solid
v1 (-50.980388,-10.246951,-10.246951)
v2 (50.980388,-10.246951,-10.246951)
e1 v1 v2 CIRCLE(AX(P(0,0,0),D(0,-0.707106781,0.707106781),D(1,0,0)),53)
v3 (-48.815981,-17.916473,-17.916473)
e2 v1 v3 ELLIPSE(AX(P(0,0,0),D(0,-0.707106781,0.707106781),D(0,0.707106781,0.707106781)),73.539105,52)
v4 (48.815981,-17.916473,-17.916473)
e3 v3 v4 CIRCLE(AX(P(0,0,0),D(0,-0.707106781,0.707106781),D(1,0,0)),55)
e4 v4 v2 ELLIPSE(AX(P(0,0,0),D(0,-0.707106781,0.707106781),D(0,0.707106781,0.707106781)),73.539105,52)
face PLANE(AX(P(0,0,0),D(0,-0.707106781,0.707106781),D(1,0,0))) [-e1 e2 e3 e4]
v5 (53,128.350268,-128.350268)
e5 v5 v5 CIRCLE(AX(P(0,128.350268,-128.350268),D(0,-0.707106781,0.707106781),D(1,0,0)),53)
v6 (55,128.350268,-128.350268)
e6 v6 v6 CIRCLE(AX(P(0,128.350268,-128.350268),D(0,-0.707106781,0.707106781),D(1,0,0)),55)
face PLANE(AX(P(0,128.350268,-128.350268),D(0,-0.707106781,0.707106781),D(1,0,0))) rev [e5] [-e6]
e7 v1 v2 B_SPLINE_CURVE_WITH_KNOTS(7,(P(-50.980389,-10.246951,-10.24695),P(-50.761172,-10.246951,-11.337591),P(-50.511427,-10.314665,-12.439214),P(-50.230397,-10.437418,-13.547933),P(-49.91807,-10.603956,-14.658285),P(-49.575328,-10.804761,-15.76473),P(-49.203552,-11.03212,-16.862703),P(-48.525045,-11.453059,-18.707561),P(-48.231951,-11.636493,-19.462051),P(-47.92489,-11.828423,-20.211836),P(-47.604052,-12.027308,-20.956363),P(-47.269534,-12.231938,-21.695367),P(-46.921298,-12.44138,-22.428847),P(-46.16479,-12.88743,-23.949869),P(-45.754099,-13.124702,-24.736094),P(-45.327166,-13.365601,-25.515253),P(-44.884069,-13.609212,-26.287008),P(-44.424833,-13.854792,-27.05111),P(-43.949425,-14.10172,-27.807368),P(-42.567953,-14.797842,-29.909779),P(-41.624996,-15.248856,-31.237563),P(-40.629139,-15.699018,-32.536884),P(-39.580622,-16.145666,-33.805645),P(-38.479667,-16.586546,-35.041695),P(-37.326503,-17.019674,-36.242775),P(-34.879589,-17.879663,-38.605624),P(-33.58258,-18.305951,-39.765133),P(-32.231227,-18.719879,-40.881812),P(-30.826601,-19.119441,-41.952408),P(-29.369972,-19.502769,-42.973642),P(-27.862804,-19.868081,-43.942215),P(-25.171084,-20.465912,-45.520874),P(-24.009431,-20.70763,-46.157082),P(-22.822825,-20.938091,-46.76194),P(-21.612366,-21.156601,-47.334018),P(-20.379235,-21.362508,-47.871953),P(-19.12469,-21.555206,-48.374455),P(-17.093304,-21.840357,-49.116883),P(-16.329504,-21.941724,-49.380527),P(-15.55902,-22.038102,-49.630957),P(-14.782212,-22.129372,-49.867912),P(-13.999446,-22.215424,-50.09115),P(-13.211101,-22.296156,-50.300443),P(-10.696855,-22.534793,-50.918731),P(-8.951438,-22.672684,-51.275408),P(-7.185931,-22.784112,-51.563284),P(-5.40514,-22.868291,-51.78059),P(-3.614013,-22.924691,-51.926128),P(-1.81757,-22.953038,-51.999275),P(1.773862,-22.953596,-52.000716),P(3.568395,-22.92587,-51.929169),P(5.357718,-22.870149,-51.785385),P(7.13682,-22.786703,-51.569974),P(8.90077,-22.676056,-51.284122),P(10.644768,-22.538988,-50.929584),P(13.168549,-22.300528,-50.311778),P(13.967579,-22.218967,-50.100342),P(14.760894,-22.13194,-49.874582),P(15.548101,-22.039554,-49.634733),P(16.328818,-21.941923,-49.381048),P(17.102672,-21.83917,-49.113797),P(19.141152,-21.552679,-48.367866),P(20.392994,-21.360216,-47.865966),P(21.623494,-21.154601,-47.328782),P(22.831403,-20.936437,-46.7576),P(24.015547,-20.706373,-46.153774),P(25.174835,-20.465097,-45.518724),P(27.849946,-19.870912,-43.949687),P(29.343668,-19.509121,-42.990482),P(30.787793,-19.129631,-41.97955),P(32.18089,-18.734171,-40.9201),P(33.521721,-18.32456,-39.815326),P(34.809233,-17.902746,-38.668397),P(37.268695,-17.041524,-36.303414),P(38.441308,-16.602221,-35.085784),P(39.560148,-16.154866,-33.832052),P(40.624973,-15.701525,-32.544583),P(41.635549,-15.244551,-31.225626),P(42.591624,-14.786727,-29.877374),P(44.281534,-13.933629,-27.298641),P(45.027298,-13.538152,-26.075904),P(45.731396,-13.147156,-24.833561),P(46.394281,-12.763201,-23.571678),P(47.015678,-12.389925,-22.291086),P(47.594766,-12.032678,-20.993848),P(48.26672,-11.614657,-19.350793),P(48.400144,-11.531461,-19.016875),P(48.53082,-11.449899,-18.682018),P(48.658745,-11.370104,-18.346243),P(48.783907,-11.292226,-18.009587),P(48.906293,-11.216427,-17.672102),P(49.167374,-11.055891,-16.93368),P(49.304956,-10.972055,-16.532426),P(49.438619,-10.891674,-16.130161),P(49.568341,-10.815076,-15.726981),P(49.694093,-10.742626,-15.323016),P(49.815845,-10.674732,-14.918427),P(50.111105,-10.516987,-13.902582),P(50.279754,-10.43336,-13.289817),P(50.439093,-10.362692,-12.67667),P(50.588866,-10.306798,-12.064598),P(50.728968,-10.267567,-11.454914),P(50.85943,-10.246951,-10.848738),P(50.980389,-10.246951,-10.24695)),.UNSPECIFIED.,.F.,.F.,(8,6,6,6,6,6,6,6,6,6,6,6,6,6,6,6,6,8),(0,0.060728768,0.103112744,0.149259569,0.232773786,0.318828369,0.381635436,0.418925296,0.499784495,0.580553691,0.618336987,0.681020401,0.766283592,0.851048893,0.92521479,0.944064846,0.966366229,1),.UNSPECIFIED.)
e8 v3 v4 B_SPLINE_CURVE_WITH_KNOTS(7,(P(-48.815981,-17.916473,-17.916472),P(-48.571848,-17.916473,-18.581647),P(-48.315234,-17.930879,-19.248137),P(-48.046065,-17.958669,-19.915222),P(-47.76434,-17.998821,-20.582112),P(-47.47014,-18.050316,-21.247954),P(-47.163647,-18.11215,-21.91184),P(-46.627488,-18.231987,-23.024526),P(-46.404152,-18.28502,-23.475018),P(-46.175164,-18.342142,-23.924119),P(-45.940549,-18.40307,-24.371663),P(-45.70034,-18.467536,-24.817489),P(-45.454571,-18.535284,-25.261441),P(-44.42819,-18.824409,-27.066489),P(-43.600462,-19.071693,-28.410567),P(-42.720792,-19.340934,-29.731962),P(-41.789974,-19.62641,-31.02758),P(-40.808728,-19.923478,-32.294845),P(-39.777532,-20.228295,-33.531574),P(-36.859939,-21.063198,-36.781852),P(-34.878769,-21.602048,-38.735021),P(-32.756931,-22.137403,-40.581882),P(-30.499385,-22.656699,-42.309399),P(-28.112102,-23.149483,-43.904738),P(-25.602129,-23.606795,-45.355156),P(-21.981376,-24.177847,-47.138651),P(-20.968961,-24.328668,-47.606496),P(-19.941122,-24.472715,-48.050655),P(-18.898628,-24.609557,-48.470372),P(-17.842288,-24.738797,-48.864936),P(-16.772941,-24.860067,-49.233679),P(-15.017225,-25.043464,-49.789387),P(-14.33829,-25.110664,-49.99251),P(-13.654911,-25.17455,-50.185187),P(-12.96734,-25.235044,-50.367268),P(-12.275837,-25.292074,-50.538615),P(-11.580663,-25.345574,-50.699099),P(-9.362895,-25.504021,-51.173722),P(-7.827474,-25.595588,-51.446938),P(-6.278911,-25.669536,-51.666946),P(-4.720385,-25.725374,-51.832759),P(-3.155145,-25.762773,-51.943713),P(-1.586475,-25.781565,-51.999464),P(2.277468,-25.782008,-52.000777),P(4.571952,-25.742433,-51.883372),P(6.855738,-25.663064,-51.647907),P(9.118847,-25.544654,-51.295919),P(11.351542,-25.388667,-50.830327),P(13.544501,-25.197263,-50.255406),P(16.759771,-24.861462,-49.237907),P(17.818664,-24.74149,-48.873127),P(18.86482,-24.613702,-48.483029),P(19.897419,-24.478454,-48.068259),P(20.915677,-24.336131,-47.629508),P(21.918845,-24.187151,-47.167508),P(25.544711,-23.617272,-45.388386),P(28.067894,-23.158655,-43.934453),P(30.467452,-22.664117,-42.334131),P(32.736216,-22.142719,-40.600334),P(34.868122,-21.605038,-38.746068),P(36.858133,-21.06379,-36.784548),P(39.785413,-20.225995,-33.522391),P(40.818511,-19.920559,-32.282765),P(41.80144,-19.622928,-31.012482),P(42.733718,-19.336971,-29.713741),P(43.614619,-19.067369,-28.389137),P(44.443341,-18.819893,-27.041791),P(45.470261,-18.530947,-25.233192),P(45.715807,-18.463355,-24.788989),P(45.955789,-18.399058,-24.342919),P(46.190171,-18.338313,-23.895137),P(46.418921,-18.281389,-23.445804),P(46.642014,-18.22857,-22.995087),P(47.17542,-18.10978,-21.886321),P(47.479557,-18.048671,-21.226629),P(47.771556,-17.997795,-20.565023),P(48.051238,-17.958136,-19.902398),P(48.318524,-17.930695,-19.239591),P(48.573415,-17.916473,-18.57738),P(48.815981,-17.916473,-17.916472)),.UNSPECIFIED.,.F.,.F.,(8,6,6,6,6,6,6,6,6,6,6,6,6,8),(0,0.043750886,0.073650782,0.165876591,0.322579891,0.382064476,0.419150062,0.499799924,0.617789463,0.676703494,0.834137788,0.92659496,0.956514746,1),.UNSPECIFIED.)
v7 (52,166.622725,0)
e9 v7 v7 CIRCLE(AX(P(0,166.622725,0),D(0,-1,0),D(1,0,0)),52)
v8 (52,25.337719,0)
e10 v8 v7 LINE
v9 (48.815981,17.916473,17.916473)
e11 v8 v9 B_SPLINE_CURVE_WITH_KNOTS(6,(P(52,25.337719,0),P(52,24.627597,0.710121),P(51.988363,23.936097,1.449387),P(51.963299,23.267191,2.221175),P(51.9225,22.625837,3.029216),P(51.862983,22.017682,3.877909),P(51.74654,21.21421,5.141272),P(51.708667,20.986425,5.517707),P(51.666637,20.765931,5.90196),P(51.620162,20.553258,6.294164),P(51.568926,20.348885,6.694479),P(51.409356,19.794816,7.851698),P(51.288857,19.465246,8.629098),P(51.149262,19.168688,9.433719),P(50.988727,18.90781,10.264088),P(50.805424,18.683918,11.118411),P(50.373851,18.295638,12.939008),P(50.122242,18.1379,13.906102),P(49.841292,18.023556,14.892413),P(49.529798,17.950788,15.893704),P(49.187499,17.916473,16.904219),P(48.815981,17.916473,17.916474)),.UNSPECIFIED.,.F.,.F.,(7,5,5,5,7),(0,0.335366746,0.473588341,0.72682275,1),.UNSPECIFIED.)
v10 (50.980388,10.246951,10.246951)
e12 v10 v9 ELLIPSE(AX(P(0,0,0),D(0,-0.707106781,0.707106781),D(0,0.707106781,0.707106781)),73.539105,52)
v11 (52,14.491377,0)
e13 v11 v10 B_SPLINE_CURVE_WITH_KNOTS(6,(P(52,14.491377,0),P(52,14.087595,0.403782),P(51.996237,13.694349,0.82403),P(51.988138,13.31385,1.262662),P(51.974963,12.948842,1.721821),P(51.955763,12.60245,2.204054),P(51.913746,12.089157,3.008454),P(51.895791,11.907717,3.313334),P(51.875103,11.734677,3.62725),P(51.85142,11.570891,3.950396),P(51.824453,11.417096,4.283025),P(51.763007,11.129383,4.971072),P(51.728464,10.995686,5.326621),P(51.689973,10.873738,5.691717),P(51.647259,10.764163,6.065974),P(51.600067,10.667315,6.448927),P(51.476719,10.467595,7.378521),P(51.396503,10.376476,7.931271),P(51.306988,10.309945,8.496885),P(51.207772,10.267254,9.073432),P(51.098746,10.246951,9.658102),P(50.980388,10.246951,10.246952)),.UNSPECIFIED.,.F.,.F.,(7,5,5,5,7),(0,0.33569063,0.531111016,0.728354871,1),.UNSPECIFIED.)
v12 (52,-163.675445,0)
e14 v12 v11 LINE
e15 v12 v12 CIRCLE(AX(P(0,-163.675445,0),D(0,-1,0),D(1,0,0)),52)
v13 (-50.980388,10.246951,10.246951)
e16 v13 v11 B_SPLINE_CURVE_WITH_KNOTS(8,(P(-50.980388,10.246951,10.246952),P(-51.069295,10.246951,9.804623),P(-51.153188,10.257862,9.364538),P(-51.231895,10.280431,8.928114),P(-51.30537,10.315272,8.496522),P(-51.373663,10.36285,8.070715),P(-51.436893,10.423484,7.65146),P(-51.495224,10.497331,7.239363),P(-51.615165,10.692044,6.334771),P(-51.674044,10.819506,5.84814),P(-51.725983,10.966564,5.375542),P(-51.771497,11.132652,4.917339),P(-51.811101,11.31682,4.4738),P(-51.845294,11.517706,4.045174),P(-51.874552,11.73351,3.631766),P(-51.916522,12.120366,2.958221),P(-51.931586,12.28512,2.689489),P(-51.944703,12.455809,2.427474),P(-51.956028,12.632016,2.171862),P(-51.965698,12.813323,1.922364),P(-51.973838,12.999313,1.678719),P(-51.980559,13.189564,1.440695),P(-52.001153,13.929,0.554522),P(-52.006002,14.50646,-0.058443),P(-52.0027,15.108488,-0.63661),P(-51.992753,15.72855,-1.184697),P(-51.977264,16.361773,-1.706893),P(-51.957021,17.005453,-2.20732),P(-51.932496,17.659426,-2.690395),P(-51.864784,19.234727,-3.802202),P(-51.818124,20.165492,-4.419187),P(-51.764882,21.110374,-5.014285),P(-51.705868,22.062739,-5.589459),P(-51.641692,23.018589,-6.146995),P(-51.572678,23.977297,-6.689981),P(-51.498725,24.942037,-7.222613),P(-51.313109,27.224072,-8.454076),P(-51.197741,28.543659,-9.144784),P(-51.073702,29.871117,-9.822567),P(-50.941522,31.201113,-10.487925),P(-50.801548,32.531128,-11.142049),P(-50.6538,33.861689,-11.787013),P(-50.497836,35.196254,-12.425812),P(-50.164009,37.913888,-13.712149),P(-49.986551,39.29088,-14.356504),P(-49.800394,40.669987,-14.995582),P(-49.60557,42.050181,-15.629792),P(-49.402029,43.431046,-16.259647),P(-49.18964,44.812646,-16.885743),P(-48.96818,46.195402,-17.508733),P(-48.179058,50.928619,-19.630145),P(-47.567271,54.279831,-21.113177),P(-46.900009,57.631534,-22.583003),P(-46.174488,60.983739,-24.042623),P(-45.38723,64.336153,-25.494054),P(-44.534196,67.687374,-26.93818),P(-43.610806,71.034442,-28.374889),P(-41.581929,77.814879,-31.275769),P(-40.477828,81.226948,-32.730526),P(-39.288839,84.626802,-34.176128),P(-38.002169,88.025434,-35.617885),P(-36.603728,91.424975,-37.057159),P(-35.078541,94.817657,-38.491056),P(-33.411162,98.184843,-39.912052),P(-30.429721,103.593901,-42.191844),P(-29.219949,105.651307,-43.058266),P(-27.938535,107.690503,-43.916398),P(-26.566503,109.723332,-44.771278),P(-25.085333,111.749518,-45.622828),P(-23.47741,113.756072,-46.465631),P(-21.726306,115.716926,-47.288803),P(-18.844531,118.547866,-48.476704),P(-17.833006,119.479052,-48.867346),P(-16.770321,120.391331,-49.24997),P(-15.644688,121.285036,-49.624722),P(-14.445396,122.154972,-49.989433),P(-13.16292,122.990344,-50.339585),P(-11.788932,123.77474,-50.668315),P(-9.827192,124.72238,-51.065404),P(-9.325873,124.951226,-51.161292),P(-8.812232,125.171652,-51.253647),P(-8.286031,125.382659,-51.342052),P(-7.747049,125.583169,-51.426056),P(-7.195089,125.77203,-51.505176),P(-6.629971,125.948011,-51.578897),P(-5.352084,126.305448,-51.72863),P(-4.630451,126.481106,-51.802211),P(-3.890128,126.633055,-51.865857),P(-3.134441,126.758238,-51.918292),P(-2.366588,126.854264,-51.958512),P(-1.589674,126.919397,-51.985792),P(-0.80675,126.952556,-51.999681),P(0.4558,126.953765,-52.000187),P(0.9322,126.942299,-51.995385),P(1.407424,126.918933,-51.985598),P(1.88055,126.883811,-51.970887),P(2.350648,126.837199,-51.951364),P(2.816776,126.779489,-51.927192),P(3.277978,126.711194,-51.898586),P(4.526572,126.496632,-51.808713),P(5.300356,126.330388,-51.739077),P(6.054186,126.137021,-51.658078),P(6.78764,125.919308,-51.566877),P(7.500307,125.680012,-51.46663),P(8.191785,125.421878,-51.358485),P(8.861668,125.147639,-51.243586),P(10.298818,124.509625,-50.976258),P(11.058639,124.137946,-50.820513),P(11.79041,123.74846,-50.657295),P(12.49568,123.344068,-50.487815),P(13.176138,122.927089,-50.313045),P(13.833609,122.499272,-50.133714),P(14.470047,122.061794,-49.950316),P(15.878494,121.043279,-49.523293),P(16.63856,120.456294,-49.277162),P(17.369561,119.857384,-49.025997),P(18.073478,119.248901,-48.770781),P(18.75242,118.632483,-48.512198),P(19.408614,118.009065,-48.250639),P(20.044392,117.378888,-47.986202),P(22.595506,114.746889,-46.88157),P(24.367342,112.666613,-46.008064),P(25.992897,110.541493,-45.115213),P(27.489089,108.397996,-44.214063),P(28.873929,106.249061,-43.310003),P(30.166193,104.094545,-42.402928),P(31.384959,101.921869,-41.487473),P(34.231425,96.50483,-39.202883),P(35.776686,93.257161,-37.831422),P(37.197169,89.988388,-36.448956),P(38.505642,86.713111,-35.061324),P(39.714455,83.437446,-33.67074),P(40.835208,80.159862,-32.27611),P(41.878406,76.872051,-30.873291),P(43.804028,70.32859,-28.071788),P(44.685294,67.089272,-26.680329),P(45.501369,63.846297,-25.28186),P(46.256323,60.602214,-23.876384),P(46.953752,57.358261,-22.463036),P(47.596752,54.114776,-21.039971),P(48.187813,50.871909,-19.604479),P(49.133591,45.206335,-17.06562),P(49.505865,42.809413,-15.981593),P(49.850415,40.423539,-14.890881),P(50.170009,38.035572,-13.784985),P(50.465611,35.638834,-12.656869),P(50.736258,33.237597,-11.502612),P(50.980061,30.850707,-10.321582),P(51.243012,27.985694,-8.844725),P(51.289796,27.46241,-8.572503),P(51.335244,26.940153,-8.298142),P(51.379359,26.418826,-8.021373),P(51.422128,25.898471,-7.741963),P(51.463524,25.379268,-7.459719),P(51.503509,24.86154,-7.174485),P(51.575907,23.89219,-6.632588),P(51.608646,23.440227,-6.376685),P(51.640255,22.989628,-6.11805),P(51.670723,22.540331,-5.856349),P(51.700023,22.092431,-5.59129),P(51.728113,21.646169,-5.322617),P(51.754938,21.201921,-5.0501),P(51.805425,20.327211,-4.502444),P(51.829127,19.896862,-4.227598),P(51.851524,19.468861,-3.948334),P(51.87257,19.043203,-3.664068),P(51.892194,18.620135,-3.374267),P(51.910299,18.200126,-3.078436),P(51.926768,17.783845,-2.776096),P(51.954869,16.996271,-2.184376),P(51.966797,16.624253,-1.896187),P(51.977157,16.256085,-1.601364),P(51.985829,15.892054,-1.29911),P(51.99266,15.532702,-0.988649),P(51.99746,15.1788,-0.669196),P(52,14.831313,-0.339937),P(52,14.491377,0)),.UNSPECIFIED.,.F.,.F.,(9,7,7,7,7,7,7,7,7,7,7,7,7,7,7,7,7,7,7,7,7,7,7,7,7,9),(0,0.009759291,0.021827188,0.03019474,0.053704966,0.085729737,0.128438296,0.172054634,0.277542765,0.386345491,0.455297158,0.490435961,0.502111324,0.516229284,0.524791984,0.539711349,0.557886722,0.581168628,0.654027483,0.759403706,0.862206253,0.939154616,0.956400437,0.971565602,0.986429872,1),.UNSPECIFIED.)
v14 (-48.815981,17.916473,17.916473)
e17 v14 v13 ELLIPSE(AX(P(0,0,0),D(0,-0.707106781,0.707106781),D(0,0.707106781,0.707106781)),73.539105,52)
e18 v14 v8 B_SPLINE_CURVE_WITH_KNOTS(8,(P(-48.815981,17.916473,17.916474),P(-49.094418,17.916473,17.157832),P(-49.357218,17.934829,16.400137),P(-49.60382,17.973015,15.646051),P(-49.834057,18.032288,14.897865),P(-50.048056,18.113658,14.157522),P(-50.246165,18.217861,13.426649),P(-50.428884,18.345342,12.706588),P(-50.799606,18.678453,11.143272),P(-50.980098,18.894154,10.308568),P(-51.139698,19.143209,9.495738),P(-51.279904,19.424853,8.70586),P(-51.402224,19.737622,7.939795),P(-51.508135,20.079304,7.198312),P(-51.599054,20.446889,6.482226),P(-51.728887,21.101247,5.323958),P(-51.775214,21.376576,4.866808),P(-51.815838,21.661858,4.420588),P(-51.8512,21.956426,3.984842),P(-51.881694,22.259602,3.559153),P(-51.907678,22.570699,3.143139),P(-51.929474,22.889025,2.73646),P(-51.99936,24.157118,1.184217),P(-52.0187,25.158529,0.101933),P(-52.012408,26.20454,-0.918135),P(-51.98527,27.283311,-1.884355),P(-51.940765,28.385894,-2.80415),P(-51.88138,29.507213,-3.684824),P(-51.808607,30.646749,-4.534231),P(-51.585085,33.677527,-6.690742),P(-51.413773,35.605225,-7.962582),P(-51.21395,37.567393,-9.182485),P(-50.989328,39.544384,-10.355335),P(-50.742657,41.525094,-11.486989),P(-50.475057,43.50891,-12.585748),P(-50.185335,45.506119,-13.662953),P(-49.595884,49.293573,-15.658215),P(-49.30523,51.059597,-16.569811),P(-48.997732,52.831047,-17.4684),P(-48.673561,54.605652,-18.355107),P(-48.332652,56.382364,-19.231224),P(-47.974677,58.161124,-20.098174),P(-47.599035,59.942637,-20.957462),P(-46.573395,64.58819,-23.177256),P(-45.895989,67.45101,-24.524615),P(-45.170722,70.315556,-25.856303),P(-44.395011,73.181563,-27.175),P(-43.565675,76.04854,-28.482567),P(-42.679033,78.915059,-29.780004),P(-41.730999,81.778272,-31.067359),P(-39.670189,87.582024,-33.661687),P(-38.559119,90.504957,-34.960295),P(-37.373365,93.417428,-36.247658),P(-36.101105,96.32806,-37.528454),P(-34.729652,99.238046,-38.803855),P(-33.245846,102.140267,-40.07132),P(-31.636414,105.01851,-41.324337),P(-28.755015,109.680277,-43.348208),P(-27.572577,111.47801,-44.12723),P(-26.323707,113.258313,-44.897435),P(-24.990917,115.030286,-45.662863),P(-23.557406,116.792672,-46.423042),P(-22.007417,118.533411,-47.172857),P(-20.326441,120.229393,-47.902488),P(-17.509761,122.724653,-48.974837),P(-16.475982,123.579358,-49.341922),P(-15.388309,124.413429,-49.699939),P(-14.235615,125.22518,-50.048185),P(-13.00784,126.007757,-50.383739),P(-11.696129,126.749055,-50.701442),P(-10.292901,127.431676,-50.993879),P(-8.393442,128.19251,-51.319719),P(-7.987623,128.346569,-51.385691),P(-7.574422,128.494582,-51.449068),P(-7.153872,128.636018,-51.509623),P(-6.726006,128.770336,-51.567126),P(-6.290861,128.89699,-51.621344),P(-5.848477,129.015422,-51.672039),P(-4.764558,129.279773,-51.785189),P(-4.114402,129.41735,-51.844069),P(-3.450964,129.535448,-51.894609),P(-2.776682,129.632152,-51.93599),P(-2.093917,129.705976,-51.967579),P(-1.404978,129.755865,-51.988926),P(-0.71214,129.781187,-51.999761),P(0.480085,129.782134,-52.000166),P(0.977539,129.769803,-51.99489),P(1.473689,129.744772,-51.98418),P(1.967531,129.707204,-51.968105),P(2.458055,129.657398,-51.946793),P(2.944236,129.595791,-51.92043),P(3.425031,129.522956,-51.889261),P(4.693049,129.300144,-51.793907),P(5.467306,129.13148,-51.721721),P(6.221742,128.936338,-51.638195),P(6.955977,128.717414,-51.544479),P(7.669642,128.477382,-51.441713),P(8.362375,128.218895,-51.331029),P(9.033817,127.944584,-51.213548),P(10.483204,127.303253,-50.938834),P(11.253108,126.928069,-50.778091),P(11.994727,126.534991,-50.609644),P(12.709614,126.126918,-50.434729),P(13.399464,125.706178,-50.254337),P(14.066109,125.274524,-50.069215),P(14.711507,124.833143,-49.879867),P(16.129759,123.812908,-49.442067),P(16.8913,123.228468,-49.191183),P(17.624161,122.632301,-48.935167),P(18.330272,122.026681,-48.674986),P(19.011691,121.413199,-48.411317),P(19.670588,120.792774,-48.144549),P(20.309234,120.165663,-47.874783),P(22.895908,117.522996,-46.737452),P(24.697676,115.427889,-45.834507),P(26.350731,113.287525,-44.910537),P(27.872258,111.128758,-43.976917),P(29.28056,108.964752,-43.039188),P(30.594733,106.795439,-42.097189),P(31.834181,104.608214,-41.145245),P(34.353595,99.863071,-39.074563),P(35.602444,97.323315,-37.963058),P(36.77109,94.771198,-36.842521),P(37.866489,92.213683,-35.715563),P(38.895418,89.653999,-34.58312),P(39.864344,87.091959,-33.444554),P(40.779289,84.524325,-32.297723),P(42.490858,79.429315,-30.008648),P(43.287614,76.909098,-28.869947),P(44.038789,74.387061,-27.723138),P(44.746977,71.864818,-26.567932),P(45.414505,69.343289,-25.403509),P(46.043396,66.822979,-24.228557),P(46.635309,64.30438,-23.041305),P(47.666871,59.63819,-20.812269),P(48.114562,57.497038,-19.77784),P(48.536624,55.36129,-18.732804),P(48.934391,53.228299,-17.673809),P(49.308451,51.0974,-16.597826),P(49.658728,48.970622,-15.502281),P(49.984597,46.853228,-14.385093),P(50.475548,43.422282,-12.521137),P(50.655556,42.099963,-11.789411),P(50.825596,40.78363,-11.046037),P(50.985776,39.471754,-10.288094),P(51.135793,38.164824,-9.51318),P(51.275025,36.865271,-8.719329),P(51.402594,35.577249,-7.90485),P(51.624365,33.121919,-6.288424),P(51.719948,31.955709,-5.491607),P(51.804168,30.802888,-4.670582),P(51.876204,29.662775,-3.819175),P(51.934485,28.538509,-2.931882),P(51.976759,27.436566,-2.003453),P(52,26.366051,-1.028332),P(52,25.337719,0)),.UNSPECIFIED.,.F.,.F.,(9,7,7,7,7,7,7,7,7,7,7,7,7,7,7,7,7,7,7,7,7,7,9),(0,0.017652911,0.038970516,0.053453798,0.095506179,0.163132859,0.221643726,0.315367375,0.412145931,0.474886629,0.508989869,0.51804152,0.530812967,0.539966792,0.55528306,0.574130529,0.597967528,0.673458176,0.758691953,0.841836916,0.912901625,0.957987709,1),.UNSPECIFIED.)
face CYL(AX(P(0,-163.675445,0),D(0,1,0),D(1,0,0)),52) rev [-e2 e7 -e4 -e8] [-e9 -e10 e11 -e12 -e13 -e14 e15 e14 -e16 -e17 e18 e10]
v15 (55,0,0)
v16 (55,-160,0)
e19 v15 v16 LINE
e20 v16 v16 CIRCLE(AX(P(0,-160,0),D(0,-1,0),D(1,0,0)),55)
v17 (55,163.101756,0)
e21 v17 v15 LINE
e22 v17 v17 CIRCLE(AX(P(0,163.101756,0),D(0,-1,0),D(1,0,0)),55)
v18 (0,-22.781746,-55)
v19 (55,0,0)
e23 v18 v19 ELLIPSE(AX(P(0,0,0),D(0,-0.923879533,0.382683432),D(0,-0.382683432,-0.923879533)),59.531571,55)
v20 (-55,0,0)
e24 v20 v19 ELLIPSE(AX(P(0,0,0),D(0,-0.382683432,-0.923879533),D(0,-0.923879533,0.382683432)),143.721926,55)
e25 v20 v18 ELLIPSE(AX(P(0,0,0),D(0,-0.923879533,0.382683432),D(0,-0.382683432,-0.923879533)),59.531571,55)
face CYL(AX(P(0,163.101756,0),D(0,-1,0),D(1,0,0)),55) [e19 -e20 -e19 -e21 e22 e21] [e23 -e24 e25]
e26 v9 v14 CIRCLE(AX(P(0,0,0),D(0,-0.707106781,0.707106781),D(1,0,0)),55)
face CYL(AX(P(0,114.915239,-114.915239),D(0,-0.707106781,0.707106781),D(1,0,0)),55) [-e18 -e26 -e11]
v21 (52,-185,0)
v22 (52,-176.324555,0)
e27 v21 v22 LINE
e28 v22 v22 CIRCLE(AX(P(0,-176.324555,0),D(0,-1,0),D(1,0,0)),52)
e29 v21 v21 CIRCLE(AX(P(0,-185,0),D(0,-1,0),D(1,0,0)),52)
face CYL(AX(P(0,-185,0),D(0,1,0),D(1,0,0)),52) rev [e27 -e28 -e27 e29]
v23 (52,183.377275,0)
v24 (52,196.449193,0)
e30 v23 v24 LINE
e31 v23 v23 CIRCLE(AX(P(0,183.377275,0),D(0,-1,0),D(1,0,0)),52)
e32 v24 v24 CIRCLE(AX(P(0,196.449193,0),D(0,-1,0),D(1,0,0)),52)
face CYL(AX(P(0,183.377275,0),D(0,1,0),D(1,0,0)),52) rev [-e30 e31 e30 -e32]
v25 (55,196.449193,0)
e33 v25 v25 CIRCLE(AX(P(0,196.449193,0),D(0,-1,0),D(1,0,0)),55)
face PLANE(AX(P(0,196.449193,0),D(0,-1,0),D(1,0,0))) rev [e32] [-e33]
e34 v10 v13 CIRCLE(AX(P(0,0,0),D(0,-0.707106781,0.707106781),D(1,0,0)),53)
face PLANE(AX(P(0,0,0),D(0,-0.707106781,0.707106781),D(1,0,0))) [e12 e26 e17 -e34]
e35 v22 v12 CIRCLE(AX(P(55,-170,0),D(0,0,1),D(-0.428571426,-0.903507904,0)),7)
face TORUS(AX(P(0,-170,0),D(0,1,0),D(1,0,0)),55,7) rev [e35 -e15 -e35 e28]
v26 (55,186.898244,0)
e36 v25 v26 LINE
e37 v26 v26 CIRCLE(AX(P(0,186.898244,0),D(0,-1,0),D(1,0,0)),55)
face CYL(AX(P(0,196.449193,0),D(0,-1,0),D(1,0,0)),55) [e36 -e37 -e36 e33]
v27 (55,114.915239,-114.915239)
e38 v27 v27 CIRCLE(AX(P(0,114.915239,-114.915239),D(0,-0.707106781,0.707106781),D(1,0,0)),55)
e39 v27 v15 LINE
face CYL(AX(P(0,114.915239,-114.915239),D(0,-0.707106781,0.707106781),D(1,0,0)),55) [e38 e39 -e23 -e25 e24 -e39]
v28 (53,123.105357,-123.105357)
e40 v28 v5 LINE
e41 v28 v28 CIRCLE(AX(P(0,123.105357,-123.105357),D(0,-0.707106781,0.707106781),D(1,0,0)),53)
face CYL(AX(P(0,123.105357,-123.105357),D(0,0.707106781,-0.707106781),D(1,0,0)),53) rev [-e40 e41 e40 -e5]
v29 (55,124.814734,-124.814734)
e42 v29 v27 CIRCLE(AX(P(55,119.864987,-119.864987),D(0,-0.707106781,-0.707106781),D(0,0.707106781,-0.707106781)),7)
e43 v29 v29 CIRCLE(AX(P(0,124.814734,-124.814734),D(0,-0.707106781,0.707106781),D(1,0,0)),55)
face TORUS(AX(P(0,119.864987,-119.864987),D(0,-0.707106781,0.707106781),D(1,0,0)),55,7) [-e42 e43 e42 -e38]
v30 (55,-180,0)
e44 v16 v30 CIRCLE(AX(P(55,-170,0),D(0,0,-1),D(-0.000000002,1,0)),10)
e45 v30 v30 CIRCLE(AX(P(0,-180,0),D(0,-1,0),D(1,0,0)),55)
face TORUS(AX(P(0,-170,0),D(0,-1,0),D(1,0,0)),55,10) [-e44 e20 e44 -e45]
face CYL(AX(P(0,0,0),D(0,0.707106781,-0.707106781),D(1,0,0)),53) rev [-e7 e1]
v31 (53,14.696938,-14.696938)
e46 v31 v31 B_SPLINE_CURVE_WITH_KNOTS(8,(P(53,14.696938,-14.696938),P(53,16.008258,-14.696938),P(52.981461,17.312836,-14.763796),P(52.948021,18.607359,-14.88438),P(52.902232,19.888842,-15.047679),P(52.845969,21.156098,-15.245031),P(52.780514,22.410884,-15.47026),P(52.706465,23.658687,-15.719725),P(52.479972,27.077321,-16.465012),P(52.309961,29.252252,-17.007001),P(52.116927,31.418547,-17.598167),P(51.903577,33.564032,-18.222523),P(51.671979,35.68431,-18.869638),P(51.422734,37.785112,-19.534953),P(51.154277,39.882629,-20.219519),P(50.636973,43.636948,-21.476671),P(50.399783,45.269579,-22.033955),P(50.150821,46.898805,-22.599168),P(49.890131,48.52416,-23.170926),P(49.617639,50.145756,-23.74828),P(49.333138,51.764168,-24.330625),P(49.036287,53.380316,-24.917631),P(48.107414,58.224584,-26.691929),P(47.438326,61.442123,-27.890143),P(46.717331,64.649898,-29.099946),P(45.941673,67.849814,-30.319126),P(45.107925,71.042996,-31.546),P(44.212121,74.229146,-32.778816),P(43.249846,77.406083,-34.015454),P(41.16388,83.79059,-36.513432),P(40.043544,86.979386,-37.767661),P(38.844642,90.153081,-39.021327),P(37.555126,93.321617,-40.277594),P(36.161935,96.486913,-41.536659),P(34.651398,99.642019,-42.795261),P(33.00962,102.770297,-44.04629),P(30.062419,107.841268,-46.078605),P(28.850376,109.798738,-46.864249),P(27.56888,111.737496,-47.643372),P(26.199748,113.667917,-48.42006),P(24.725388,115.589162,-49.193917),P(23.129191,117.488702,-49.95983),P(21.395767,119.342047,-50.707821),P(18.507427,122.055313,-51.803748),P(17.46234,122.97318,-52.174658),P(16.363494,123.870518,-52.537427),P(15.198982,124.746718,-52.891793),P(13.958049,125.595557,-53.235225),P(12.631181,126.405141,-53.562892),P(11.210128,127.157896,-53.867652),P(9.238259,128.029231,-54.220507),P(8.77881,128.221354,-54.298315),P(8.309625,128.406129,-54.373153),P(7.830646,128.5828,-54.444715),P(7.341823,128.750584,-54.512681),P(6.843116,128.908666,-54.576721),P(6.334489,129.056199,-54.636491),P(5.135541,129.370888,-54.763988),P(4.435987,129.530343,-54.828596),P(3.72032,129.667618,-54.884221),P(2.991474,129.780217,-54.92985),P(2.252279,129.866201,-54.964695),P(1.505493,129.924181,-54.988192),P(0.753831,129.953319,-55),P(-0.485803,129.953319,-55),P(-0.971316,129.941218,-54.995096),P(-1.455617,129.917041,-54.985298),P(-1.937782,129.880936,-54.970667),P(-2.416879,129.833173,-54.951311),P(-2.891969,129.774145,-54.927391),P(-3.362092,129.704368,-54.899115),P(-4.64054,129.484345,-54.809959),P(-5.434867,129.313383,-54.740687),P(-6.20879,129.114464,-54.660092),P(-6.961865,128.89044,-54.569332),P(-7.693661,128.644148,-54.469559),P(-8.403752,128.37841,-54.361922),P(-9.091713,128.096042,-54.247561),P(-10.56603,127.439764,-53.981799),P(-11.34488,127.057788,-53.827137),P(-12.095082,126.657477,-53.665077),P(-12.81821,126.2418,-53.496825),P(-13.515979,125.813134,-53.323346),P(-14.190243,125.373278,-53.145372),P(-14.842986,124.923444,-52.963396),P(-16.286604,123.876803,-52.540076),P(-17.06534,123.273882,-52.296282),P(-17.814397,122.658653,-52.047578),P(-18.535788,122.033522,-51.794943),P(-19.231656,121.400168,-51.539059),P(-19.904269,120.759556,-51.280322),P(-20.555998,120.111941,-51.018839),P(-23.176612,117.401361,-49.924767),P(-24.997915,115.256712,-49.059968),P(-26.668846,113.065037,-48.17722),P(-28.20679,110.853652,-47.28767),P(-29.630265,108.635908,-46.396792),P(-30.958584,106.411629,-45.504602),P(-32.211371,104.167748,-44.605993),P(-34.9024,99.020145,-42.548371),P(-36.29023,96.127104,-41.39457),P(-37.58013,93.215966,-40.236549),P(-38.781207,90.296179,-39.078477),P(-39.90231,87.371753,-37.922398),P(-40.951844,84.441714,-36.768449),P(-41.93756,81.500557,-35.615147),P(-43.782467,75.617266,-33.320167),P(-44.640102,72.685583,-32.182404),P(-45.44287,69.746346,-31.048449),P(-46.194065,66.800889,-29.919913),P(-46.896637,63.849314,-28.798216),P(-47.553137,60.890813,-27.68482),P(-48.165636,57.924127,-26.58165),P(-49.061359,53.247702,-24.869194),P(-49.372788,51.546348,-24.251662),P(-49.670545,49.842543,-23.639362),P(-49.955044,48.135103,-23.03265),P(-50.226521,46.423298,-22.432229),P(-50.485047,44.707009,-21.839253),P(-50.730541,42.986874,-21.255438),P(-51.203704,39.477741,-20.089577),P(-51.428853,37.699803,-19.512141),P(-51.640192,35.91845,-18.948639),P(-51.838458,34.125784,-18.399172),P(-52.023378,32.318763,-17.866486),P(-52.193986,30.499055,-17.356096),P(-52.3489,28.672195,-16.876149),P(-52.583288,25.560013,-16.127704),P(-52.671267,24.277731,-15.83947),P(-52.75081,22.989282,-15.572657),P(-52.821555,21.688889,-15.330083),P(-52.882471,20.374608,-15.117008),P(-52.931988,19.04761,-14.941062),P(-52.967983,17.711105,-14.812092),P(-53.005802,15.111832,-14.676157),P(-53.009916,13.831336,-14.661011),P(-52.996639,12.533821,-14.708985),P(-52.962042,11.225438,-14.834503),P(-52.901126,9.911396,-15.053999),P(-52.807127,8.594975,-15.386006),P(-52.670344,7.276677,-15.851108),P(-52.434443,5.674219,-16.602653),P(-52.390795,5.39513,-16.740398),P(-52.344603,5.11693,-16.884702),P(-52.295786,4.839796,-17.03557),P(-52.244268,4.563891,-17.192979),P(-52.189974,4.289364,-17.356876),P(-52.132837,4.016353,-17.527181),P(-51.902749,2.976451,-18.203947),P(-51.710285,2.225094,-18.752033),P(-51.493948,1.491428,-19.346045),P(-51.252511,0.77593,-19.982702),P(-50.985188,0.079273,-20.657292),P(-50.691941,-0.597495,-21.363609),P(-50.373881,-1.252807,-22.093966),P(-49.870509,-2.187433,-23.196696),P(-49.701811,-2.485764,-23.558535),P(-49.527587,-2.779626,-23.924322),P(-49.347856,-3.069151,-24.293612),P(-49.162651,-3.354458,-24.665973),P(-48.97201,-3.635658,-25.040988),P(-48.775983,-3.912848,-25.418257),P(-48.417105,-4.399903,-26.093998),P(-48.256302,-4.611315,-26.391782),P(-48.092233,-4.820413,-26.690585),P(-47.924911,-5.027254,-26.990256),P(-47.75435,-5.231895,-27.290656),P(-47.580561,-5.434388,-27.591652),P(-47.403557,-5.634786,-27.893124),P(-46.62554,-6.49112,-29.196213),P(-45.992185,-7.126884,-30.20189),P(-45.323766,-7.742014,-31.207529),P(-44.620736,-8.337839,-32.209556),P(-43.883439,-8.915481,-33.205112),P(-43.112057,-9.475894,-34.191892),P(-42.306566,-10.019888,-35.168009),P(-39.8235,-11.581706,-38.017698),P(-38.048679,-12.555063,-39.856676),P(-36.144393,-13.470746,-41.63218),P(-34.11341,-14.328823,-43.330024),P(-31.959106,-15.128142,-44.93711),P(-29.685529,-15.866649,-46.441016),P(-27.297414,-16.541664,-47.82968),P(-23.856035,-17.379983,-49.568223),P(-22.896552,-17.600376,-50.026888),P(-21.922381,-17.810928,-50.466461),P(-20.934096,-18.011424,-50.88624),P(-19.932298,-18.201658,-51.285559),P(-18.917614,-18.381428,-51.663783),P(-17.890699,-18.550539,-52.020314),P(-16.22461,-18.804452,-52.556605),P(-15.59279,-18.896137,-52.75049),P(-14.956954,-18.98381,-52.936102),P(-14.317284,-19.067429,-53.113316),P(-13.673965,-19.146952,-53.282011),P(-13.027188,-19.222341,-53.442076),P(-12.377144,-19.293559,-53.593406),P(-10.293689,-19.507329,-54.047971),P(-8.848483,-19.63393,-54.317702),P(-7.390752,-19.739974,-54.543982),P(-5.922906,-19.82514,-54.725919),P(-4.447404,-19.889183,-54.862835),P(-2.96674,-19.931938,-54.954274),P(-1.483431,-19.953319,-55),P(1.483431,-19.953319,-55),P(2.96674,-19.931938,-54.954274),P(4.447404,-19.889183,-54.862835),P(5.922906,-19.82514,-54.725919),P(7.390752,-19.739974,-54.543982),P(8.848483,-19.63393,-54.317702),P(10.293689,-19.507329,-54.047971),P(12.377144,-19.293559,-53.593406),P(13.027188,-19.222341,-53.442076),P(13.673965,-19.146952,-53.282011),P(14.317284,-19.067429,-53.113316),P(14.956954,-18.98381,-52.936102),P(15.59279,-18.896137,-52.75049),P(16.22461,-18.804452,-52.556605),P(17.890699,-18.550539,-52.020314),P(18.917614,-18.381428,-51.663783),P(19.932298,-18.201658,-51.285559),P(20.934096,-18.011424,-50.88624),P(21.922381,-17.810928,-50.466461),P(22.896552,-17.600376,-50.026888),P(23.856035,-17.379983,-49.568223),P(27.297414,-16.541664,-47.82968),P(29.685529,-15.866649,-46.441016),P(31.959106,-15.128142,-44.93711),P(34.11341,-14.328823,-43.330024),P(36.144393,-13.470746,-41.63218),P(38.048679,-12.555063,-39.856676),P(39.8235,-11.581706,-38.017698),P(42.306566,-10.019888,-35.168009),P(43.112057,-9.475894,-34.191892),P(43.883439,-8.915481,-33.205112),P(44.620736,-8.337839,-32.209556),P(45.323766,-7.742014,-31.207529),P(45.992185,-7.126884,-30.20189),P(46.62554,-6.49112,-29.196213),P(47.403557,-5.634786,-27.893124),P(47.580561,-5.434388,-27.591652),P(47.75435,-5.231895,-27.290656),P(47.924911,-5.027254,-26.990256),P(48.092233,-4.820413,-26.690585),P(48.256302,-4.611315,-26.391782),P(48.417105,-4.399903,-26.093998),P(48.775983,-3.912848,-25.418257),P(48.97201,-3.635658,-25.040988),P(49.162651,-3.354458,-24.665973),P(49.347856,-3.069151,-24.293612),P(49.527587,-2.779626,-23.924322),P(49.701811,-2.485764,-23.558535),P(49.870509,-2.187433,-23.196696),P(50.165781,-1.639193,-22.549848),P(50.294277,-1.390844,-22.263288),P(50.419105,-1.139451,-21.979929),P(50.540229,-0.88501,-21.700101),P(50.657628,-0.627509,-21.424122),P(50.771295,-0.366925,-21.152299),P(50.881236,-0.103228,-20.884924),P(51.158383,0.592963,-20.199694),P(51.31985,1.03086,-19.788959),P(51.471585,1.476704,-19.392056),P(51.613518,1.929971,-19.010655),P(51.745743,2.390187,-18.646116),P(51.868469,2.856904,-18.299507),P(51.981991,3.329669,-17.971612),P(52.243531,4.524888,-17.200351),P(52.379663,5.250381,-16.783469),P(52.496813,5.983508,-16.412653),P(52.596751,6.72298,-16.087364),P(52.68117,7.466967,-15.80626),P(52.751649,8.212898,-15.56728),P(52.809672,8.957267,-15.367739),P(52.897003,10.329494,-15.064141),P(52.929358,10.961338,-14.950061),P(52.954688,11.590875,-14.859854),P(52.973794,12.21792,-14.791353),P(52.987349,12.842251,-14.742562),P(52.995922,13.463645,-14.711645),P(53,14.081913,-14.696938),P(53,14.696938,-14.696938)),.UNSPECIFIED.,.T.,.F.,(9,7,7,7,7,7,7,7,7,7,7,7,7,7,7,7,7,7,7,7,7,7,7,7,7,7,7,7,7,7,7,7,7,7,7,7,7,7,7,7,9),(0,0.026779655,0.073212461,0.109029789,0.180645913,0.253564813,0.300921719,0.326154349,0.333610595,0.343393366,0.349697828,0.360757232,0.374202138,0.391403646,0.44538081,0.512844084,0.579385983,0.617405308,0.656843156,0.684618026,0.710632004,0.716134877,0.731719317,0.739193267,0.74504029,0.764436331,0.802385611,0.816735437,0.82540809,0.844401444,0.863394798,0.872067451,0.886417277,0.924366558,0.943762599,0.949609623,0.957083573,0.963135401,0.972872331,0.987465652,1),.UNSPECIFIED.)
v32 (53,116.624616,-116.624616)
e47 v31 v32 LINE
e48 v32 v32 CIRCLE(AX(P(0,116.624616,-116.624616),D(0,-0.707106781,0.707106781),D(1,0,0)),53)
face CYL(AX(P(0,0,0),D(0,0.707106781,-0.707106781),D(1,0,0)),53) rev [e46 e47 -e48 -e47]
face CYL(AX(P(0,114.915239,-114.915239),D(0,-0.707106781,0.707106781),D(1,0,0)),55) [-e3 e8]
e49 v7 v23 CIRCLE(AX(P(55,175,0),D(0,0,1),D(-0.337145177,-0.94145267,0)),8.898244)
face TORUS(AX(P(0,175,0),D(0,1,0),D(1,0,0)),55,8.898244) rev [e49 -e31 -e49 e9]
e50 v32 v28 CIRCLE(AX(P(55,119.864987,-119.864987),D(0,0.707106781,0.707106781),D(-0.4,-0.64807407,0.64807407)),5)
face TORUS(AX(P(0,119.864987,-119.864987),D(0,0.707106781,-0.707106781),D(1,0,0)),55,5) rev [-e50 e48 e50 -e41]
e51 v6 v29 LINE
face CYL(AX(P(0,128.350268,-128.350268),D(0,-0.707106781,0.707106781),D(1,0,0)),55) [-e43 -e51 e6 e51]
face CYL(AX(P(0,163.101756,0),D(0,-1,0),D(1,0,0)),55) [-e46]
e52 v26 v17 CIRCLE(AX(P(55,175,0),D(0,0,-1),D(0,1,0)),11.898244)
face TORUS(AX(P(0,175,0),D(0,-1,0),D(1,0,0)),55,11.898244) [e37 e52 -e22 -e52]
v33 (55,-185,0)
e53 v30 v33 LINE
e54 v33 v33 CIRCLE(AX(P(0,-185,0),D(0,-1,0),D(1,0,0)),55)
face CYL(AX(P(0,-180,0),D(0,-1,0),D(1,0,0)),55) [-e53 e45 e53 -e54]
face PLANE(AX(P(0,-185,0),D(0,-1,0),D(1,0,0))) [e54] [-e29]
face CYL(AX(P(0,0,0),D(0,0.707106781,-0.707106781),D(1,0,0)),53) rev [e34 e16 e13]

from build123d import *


with BuildPart() as part:
    # Эскиз2 → Повернуть-Тонкостенный1 (revolve)
    with BuildSketch(Plane.XY):
        with BuildLine():
            Line((55, 196.449193069), (55, 186.898243866))
            ThreePointArc((55, 186.898243866), (66.898243866, 175), (55, 163.101756134))
            Line((55, 163.101756134), (55, -160))
            ThreePointArc((55, -160), (65.00000002, -169.99999998), (55.00000004, -180))
            Line((55.00000004, -180), (55.00000004, -185))
            Line((55.00000004, -185), (52.00000004, -185))
            Line((52.00000004, -185), (52.00000004, -176.32455533))
            ThreePointArc((52.00000004, -176.32455533), (62.00000002, -169.999999978), (52, -163.675444689))
            Line((52, -163.675444689), (52, 166.622724554))
            ThreePointArc((52, 166.622724554), (63.898243866, 175), (52, 183.377275446))
            Line((52, 183.377275446), (52, 196.449193069))
            Line((52, 196.449193069), (55, 196.449193069))
        make_face()
    revolve(axis=Axis((0, 137.813713198, 0), (0, -1, 0)))

    # Эскиз3 → Повернуть-Тонкостенный3 (revolve)
    with BuildSketch(Plane(origin=(0, 0, 0), x_dir=(1, 0, 0), z_dir=(0, 0.707106781, 0.707106781))):
        with BuildLine():
            Line((55, 181.514689721), (55, 176.514689721))
            ThreePointArc((55, 176.514689721), (62, 169.514689721), (55, 162.514689721))
            Line((55, 162.514689721), (55, 0))
            Line((55, 0), (53, 0))
            Line((53, 0), (53, 164.932114026))
            ThreePointArc((53, 164.932114026), (60, 169.514689721), (53, 174.097265416))
            Line((53, 174.097265416), (53, 181.514689721))
            Line((53, 181.514689721), (55, 181.514689721))
        make_face()
    revolve(axis=Axis((0, 88.670134299, -88.670134299), (0, -0.707106781, 0.707106781)))


solid = part.part
